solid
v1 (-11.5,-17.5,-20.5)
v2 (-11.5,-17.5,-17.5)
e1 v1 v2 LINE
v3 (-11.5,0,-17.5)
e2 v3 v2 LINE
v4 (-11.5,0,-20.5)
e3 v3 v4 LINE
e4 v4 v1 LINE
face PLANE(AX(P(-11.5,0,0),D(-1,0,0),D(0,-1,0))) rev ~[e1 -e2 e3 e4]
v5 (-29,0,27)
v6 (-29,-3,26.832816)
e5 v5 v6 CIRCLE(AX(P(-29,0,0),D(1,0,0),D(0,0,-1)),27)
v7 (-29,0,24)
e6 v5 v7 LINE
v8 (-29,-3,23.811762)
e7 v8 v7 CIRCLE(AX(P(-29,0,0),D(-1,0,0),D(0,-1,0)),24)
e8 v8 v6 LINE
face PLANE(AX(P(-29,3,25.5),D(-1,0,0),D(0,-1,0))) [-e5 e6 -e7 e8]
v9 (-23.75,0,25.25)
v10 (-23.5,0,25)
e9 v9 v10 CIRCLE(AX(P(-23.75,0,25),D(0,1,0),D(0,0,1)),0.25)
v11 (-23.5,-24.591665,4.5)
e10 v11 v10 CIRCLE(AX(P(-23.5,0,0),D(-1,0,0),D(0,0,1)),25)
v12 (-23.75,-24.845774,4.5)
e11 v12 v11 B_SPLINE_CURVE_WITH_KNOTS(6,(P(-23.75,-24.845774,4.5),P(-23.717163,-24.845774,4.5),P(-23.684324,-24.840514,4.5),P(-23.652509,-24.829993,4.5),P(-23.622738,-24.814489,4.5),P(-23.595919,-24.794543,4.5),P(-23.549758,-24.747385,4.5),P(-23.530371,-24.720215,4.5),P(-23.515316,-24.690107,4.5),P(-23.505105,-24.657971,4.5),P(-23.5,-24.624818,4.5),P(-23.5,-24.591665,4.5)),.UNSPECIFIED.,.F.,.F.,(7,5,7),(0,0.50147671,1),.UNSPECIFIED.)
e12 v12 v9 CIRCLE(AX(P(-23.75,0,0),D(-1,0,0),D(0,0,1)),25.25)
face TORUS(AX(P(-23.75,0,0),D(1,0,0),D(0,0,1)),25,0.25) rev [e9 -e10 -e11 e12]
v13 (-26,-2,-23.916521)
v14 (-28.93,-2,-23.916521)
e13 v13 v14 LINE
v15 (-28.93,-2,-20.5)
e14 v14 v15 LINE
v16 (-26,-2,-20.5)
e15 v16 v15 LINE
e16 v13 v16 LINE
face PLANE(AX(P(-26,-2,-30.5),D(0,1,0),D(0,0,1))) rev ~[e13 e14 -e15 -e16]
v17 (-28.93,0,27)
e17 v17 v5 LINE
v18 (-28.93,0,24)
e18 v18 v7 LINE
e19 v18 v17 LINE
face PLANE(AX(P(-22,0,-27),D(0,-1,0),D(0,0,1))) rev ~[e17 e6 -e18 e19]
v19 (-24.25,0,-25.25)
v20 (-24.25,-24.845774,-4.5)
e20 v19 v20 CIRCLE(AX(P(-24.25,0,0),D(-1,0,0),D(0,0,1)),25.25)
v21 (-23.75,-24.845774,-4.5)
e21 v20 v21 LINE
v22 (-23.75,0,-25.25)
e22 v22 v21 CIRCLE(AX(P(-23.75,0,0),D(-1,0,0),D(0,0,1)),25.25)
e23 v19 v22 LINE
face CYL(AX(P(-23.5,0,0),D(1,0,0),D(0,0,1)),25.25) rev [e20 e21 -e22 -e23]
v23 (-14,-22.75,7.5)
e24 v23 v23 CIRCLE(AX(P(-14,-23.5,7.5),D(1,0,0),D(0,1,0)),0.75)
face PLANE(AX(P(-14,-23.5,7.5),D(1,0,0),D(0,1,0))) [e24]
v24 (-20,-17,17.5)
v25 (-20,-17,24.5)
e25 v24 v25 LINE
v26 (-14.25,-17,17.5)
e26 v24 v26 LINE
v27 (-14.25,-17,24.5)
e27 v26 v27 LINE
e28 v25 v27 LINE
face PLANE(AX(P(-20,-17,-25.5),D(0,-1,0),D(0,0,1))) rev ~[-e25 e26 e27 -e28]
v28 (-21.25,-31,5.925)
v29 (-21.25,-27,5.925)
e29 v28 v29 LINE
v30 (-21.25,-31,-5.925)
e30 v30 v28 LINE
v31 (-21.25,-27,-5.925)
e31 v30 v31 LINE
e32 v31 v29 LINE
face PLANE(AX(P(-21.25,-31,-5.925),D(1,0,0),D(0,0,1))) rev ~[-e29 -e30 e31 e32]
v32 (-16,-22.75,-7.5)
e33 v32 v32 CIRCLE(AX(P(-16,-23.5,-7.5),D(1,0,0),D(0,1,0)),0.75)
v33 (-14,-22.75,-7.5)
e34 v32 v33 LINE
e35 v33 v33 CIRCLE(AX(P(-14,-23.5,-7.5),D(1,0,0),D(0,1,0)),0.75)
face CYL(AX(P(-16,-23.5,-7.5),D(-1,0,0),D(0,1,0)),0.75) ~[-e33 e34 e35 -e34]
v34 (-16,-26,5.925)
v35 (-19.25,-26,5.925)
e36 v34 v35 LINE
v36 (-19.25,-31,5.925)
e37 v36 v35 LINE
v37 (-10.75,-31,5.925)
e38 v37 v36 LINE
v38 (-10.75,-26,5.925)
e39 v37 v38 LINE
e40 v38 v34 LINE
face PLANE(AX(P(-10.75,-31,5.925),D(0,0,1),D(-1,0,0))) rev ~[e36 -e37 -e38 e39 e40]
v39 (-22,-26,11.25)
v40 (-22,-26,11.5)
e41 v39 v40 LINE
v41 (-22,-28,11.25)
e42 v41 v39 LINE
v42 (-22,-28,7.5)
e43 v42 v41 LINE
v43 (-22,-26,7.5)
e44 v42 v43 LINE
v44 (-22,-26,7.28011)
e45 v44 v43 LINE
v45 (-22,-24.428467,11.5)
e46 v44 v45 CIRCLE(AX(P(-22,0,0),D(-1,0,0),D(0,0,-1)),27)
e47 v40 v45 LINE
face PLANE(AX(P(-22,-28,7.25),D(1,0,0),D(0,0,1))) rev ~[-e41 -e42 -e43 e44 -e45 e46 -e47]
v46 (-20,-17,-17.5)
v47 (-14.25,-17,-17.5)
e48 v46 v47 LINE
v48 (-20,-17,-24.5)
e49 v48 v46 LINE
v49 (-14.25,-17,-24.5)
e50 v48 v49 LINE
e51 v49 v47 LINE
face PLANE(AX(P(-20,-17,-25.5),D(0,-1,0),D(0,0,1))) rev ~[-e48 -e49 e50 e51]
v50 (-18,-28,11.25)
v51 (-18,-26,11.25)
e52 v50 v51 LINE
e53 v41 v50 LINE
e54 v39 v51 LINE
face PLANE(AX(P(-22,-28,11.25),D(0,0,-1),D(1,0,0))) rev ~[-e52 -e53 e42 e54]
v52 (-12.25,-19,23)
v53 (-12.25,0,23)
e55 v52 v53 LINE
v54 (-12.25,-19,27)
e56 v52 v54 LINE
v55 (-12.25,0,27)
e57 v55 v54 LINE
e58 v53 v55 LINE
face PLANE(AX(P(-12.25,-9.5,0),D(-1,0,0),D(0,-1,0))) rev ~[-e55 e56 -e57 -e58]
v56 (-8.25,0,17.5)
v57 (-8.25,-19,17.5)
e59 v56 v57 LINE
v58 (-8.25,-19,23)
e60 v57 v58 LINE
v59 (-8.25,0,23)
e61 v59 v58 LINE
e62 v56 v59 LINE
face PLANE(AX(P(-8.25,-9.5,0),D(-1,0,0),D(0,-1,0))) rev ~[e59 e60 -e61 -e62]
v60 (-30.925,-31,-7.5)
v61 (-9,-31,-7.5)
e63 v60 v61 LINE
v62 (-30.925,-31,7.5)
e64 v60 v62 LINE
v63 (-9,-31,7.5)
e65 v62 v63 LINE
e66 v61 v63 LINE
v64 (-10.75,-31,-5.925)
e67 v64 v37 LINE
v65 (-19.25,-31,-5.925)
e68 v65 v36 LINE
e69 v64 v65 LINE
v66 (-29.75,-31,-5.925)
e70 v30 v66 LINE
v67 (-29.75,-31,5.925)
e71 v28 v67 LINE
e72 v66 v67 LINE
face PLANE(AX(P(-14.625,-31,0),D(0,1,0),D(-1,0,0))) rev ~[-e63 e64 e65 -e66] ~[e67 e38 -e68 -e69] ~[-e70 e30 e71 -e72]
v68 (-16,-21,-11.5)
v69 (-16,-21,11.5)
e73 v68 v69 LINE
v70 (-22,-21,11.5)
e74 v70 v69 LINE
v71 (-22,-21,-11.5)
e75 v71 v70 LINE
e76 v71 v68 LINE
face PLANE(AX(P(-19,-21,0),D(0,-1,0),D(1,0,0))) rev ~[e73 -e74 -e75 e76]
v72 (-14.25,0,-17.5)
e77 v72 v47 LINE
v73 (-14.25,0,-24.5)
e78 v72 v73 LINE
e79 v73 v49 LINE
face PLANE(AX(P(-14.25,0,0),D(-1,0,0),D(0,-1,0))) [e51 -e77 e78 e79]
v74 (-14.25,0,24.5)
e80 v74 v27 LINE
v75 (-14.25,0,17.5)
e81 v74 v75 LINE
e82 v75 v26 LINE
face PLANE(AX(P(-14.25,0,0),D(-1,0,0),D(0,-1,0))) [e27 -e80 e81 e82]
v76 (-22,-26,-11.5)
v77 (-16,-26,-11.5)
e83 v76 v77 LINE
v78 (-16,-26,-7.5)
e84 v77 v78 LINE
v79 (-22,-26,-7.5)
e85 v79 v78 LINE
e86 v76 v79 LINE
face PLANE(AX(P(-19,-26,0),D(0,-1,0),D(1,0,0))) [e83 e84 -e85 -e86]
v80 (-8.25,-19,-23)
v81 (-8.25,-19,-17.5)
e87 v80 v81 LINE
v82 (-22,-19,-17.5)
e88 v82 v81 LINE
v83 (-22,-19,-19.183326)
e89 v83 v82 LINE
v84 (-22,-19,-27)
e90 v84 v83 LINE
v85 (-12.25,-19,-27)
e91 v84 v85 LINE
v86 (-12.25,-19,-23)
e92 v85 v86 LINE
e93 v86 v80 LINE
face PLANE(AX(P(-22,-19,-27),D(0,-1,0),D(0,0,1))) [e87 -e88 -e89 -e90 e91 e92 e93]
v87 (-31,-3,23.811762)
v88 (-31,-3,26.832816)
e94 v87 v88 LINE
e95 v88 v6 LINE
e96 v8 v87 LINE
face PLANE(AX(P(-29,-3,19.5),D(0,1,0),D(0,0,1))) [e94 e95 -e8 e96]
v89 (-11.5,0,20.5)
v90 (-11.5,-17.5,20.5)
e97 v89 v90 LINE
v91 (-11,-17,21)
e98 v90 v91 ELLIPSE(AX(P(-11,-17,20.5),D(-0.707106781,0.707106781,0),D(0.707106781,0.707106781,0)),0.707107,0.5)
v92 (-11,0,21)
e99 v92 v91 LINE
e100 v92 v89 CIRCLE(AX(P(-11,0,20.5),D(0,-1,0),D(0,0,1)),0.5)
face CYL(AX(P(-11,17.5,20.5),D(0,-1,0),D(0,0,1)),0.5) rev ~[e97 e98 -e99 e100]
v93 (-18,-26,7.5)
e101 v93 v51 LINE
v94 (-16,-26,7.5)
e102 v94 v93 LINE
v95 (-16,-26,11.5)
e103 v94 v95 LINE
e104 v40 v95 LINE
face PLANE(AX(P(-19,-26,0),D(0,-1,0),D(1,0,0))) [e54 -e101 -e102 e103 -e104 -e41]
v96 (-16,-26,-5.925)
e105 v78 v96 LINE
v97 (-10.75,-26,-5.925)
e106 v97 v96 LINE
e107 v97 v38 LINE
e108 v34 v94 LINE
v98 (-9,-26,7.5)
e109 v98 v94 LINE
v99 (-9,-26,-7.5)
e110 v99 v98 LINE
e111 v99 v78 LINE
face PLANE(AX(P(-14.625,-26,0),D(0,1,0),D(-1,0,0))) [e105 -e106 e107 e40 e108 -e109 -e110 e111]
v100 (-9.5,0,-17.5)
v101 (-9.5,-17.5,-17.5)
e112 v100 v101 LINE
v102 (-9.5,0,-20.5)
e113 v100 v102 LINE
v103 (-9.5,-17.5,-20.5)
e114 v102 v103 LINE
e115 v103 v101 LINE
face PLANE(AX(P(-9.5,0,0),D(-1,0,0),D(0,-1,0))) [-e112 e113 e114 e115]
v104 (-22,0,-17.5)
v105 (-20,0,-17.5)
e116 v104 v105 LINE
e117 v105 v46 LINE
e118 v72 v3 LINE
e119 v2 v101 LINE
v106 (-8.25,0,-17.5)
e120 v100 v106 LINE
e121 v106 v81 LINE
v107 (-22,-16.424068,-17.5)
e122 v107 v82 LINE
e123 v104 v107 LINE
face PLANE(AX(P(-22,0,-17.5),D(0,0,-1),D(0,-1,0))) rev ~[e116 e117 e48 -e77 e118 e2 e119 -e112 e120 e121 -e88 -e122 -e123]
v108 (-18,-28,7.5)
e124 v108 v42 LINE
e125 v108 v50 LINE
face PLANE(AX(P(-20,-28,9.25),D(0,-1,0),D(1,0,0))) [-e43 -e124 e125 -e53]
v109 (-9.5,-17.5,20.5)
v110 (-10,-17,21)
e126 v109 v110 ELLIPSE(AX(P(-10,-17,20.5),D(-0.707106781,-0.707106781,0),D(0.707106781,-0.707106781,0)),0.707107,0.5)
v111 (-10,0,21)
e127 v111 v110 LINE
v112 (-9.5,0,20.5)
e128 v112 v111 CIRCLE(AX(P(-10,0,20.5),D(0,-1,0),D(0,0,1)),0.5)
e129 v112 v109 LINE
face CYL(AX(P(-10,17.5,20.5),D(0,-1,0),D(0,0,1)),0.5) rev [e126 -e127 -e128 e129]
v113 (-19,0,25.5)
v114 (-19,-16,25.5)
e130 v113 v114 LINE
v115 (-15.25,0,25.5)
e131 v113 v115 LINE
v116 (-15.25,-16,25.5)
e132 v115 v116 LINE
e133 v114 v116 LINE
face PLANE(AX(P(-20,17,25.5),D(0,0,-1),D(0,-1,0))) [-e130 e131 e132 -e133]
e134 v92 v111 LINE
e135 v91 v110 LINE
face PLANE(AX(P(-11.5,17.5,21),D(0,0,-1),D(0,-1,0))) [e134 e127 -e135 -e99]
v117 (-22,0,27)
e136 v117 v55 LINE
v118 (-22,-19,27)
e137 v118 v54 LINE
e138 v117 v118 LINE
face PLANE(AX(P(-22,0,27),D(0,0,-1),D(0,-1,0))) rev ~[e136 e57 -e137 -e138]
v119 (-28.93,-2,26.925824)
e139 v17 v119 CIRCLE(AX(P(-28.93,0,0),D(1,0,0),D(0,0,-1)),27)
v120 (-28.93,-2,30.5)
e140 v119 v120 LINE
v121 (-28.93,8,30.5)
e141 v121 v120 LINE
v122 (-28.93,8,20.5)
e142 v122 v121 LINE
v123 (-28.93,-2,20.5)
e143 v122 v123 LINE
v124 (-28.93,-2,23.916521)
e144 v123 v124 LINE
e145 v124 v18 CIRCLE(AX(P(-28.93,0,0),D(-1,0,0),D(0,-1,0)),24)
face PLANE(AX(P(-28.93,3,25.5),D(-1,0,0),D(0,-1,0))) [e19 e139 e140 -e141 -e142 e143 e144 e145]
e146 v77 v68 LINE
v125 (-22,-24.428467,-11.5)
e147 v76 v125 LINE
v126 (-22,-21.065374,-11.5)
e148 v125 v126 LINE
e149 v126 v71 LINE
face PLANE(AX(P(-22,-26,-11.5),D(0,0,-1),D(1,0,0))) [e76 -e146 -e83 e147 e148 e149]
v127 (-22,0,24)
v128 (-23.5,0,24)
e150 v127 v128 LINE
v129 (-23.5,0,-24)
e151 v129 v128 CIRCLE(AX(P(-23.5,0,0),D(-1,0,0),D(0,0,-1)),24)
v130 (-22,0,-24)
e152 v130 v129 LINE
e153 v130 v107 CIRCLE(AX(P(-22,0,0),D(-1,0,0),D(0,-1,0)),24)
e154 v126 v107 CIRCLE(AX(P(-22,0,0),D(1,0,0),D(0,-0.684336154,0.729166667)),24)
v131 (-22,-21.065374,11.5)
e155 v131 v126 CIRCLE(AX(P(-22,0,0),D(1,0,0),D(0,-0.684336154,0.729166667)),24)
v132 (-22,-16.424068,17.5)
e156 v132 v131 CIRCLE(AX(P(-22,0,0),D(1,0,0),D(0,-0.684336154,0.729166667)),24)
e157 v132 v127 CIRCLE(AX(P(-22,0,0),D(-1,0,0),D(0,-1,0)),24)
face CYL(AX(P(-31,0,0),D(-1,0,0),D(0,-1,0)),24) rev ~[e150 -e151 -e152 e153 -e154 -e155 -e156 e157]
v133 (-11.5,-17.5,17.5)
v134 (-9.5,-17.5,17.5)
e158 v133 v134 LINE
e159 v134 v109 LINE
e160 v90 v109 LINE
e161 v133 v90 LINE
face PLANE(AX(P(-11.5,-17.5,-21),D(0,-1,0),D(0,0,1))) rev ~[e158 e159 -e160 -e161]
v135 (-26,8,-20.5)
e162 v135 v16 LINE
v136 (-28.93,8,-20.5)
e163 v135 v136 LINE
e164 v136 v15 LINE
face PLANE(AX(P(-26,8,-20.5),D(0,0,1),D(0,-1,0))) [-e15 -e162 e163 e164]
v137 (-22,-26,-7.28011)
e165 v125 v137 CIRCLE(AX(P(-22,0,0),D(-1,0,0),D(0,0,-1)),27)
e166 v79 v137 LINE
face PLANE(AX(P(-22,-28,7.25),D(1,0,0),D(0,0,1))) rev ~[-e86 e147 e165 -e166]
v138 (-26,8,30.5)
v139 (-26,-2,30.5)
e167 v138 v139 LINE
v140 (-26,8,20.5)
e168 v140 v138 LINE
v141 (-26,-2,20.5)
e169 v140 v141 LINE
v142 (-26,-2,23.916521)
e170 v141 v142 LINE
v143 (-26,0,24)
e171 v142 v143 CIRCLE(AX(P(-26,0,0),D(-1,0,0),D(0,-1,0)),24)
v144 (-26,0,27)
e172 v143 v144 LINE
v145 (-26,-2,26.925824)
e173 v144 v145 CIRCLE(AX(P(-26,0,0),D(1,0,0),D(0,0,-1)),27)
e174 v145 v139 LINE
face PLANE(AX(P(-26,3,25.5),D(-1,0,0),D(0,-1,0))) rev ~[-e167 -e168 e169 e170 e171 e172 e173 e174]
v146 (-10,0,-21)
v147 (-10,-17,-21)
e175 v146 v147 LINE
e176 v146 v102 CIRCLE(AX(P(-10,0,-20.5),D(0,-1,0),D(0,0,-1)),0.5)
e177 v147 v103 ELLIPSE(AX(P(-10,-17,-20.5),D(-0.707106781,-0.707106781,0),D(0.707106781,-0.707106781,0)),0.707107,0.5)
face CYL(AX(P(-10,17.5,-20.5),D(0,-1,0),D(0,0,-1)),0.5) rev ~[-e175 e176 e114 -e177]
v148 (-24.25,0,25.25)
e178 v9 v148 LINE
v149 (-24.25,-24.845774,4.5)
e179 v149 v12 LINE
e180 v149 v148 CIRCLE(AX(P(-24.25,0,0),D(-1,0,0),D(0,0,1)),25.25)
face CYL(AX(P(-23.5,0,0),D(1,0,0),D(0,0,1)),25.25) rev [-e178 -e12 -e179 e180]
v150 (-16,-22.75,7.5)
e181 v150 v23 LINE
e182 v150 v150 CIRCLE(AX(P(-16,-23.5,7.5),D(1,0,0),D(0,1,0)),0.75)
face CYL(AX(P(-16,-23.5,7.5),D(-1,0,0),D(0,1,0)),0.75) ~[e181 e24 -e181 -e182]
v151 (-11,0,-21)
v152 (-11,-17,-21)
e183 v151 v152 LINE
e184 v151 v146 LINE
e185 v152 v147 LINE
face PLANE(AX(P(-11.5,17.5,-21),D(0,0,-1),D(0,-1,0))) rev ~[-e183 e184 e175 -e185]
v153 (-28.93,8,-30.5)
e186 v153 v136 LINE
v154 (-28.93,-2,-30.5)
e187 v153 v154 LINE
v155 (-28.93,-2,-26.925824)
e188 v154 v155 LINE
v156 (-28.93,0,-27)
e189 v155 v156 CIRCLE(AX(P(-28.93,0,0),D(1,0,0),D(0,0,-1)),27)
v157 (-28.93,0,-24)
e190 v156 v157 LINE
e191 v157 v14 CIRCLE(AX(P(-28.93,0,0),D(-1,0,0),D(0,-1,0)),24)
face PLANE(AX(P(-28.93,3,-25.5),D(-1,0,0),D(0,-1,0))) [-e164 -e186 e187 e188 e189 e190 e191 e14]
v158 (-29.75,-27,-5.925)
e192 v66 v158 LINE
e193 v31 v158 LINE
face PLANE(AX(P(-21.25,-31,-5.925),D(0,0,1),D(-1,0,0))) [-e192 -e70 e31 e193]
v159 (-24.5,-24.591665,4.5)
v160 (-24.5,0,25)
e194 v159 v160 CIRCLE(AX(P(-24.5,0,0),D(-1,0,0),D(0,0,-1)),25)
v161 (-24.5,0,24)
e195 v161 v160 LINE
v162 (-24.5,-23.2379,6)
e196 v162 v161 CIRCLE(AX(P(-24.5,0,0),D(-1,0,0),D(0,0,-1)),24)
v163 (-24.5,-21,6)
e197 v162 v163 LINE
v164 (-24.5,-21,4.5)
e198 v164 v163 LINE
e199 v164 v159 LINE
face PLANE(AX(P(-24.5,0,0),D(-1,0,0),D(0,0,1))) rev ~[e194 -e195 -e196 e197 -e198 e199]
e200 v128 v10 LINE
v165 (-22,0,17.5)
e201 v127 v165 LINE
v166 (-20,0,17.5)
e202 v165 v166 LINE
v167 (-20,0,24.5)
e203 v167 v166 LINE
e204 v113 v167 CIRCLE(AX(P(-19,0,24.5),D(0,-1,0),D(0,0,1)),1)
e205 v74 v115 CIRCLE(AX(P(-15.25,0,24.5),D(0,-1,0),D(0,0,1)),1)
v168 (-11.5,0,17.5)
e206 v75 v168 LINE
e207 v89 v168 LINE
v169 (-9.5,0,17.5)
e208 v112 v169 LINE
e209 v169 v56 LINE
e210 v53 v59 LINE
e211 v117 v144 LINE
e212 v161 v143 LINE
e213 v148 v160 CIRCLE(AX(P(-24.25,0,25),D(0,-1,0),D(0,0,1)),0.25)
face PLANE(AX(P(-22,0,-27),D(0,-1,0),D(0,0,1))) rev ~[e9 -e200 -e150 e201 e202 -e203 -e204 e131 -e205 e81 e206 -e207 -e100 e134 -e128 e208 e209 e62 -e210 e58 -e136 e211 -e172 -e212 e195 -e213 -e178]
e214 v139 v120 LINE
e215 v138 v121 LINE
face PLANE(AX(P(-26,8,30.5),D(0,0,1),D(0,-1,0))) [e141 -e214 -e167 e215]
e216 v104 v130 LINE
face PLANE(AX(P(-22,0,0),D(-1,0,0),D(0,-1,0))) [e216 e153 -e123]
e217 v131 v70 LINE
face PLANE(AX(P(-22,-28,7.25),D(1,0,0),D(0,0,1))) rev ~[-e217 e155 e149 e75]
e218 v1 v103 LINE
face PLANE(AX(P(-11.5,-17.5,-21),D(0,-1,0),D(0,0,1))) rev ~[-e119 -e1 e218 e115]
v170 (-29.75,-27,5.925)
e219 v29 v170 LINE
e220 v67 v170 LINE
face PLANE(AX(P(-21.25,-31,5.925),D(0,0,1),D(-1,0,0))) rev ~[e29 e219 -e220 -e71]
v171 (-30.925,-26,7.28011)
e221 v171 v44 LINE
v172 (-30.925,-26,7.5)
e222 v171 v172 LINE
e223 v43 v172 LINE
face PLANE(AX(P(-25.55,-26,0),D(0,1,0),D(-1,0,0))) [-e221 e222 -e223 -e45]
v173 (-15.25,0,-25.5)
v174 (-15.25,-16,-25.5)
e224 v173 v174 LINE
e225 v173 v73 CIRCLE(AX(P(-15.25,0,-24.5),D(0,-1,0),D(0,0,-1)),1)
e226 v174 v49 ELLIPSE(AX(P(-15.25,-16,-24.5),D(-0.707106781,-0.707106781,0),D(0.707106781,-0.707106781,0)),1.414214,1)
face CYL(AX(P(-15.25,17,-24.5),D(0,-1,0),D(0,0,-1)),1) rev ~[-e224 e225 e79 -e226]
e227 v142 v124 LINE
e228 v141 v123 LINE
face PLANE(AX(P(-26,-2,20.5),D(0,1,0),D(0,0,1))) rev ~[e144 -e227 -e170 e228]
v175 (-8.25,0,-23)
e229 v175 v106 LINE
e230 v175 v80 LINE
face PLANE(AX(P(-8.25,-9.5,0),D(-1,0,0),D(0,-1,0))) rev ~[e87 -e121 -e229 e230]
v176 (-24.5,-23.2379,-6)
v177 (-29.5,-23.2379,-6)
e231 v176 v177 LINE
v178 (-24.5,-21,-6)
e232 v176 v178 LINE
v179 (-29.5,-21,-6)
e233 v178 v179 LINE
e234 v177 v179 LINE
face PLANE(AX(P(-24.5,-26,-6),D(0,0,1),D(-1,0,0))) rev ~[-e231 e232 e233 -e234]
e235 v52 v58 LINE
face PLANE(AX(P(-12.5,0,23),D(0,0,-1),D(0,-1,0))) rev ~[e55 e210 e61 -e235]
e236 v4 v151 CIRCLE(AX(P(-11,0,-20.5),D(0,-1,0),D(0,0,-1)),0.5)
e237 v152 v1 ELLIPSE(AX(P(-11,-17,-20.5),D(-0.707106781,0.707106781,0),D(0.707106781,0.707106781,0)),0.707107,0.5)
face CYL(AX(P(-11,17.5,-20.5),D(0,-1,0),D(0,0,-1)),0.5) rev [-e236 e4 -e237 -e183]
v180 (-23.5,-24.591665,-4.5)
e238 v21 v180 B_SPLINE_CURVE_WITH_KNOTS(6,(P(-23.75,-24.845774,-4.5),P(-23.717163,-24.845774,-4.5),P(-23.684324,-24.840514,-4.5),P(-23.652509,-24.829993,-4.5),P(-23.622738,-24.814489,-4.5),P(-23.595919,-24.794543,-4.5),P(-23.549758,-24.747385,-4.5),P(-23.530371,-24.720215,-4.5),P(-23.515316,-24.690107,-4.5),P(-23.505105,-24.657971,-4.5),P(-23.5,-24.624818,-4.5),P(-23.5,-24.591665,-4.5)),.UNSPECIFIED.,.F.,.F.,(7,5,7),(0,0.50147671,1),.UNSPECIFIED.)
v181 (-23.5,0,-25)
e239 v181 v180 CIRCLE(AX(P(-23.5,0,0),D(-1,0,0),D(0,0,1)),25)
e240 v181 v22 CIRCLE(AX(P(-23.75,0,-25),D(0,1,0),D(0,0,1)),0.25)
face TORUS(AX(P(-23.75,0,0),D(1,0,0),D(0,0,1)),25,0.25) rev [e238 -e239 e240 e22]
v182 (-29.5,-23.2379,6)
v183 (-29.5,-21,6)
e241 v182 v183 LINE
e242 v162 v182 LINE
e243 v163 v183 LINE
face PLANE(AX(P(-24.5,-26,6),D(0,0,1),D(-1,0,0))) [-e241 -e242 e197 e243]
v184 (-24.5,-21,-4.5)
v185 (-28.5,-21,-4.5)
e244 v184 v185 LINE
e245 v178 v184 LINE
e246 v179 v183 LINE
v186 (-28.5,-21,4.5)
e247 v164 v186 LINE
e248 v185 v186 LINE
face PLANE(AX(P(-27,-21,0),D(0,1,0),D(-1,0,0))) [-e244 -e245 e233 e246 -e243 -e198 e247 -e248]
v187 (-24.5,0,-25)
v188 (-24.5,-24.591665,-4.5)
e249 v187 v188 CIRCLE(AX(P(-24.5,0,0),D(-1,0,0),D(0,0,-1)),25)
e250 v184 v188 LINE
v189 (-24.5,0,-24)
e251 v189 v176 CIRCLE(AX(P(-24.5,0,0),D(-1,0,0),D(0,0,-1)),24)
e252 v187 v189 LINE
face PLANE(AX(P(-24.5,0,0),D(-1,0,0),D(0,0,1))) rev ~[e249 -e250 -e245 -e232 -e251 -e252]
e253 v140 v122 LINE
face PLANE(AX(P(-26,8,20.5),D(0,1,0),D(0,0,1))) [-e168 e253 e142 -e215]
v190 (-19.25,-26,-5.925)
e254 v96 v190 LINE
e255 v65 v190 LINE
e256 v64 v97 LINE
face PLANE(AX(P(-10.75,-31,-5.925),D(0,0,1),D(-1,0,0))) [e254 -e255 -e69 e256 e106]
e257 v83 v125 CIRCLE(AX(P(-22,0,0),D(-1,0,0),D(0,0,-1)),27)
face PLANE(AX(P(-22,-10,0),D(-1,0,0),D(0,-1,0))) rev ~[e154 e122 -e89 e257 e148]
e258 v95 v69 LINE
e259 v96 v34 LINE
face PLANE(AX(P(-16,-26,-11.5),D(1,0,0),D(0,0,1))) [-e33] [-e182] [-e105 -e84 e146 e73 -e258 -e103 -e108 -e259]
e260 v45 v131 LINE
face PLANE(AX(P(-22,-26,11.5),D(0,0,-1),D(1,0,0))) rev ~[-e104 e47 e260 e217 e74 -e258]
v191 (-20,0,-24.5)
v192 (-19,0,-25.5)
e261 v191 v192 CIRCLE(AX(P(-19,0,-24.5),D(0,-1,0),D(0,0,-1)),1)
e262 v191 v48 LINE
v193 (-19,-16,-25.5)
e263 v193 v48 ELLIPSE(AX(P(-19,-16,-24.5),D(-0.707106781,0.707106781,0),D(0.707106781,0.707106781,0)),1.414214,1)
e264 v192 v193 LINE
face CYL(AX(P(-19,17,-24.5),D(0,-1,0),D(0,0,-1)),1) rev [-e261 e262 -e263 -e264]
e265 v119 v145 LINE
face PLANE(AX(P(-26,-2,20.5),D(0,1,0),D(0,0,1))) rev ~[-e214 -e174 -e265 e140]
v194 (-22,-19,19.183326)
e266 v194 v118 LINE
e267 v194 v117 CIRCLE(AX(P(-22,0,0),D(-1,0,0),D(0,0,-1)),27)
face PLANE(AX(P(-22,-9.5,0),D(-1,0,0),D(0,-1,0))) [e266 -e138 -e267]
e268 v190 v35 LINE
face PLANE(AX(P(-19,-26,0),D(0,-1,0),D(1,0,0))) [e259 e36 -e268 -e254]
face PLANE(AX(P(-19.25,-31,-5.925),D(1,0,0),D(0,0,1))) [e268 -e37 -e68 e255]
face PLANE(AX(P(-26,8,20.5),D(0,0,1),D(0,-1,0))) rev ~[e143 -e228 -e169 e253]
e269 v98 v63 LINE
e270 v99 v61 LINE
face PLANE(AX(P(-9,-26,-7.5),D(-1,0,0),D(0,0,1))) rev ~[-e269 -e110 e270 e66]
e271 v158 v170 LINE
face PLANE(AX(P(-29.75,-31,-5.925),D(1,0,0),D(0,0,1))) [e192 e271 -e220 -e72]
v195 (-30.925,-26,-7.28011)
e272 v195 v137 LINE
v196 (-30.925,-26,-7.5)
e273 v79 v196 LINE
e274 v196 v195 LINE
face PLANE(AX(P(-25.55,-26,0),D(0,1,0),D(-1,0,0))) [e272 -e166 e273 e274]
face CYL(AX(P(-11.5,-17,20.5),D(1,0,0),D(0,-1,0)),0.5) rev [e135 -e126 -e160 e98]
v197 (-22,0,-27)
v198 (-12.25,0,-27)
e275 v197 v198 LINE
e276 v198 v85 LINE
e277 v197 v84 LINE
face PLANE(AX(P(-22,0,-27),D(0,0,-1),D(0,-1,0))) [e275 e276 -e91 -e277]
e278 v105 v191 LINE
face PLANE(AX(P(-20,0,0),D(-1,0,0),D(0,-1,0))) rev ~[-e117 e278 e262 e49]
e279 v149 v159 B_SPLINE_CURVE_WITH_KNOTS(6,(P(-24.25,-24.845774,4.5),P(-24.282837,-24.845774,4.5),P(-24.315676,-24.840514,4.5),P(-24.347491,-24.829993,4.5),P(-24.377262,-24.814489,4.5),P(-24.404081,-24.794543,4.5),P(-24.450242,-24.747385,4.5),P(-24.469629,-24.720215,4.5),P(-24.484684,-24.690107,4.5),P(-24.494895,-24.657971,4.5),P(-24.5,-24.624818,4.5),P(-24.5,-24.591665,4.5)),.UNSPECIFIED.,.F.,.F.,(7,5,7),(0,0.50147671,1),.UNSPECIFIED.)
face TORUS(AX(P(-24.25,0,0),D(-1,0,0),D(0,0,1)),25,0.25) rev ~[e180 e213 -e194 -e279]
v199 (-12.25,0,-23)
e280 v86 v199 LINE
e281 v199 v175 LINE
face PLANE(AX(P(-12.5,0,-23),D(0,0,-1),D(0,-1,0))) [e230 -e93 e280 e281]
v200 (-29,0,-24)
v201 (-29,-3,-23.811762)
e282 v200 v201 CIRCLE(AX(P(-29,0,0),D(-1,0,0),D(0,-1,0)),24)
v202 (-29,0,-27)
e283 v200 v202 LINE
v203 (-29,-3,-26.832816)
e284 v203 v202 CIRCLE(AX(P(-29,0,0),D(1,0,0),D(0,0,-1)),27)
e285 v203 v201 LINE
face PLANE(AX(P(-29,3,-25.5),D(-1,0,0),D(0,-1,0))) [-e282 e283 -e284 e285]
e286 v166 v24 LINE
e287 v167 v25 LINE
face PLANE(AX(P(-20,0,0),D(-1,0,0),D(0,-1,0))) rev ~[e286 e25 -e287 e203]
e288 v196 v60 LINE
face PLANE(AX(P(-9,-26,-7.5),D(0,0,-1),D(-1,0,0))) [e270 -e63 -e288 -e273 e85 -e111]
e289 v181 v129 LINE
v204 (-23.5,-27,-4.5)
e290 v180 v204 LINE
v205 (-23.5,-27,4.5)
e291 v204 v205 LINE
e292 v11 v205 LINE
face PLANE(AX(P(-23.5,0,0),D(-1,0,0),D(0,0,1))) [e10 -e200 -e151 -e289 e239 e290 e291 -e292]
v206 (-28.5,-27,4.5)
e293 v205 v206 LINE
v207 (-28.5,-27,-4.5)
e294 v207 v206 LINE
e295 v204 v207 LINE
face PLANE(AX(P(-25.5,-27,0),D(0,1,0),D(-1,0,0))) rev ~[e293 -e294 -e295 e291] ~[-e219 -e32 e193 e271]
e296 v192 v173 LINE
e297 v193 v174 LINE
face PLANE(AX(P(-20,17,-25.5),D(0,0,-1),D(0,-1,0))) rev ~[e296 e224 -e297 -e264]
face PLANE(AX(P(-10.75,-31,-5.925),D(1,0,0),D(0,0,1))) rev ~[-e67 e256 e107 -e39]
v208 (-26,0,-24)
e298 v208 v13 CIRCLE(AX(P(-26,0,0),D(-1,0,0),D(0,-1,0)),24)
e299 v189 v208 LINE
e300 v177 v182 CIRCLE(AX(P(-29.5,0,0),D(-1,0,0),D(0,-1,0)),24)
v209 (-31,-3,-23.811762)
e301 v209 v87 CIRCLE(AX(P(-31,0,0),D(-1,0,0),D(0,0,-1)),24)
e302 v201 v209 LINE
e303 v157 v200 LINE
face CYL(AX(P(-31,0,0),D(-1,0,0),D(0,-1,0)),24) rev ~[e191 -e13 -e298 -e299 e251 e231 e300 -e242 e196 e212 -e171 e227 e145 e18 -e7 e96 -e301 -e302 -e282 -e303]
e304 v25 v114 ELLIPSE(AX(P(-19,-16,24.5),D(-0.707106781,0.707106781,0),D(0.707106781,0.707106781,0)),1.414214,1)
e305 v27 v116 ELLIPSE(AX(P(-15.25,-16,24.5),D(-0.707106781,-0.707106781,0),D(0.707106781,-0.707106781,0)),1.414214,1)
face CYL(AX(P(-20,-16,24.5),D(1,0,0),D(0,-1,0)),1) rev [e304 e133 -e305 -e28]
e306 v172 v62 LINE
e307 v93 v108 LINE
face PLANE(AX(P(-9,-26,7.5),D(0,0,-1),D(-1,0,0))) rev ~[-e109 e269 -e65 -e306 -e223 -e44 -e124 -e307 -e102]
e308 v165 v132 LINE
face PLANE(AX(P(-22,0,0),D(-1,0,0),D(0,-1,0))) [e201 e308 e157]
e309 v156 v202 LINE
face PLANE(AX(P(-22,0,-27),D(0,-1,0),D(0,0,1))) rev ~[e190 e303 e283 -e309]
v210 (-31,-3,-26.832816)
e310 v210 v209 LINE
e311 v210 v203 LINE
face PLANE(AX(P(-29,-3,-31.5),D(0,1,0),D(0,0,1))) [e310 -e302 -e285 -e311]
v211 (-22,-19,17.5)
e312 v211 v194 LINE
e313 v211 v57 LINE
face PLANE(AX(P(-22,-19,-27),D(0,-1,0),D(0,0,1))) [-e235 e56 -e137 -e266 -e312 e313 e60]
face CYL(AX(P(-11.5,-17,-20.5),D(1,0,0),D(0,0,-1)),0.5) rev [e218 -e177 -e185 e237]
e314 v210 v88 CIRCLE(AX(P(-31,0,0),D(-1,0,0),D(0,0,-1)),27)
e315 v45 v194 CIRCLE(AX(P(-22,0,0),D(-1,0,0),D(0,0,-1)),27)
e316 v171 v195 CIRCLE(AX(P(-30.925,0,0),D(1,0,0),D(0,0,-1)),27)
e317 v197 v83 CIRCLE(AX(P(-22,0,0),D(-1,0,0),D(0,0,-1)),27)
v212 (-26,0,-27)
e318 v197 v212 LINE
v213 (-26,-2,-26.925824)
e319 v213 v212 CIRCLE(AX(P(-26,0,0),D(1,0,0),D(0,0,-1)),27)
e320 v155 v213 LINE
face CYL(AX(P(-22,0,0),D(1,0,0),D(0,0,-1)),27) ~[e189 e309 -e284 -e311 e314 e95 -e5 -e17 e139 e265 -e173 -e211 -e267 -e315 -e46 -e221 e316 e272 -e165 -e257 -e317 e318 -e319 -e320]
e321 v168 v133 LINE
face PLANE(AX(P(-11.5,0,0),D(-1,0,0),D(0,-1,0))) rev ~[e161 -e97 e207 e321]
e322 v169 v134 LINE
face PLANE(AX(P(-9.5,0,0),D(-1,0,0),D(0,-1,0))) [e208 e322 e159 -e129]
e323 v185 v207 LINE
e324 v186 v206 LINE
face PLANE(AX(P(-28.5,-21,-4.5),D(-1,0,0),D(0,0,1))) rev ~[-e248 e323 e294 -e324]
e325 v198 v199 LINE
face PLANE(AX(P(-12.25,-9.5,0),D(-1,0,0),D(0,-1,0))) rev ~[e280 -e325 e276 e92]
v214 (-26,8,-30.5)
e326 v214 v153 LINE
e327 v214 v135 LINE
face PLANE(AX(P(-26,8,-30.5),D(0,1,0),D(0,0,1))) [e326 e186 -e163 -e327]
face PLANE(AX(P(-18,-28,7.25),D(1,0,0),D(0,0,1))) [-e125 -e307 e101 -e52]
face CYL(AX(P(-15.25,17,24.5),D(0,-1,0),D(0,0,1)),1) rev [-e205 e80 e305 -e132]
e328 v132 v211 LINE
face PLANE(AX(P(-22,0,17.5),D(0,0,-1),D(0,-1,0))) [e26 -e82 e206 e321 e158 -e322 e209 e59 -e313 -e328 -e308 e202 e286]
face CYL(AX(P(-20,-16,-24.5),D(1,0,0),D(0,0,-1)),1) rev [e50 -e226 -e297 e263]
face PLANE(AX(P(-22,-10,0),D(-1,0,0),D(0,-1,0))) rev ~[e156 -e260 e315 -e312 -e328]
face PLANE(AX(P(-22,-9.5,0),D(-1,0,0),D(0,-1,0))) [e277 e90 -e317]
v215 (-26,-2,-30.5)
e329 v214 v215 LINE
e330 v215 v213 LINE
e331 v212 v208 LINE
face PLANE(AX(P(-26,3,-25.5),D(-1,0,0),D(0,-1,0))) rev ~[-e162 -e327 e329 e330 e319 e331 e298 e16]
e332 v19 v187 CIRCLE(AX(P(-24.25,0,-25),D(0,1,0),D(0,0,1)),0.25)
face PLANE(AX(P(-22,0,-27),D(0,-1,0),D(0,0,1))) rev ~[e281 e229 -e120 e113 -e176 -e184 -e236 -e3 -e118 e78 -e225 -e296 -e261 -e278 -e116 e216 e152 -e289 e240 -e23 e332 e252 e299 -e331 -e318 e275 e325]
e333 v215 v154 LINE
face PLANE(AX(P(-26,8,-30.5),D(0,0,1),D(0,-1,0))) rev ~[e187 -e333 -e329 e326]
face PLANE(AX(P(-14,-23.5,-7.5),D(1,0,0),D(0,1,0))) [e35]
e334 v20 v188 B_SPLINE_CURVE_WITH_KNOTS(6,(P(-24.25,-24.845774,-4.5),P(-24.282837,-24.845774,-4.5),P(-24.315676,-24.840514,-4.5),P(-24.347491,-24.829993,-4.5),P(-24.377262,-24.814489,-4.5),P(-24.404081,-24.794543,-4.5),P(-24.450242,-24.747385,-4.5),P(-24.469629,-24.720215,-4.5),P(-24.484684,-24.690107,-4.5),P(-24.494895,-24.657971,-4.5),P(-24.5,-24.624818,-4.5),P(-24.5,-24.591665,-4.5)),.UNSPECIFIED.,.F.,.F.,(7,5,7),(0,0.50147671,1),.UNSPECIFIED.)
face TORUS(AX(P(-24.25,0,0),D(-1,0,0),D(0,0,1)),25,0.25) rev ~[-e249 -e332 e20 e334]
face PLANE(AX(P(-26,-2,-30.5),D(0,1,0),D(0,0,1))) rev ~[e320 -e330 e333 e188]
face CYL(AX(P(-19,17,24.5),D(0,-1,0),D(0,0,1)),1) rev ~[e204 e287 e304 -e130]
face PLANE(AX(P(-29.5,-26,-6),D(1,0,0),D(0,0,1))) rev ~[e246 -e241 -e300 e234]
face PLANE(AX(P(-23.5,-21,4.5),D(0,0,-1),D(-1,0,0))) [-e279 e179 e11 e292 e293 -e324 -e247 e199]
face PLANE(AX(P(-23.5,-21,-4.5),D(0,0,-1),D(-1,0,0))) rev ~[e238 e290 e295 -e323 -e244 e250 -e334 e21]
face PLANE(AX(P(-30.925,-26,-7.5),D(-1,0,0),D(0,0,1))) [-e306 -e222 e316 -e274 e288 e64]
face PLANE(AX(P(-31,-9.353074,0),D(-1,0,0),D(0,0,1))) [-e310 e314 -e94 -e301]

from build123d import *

# Parameters (mm, degrees)
SKETCH062_W                               = 12
SKETCH062_H                               = 12
EXTRUDE035_DEPTH                          = 2
SKETCH061_W                               = 12
SKETCH061_H                               = 12
EXTRUDE034_DEPTH                          = 2
SKETCH029_AS_DRAWN_W                      = 4
SKETCH029_AS_DRAWN_H                      = 4
EXTRUDE021_DEPTH                          = 2
EXTRUDE021_ONTO_SKETCH029_ROLL_ANGLE      = 90
SKETCH020_W                               = 10
SKETCH020_H                               = 10
EXTRUDE014_DEPTH                          = 2.93
SKETCH018_W                               = 10
SKETCH018_H                               = 10
EXTRUDE013_DEPTH                          = 2.93
SKETCH016_AS_DRAWN_W                      = 5
SKETCH016_AS_DRAWN_H                      = 9
EXTRUDE009_DEPTH                          = 7
EXTRUDE009_ONTO_SKETCH016_ROLL_ANGLE      = 90
EXTRUDE009_ONTO_SKETCH016_PLACEMENT_ANGLE = 180
SKETCH013_AS_DRAWN_W                      = 8.5
SKETCH013_AS_DRAWN_H                      = 11.85
EXTRUDE011_DEPTH                          = 4
EXTRUDE011_ONTO_SKETCH013_ROLL_ANGLE      = 90
EXTRUDE011_ONTO_SKETCH013_PLACEMENT_ANGLE = 180
SKETCH015_AS_DRAWN_W                      = 10.75
SKETCH015_AS_DRAWN_H                      = 15
EXTRUDE010_DEPTH                          = 5
EXTRUDE010_ONTO_SKETCH015_ROLL_ANGLE      = 90
EXTRUDE010_ONTO_SKETCH015_PLACEMENT_ANGLE = 180
SKETCH017_AS_DRAWN_W                      = 5
SKETCH017_AS_DRAWN_H                      = 12
EXTRUDE008_DEPTH                          = 5
EXTRUDE008_ONTO_SKETCH017_ROLL_ANGLE      = 90
EXTRUDE008_ONTO_SKETCH017_PLACEMENT_ANGLE = 180
SKETCH012_W                               = 20
SKETCH012_H                               = 35
EXTRUDE007_DEPTH                          = 14
SKETCH007_R                               = 24
EXTRUDE006_DEPTH                          = 9
SKETCH011_W                               = 35
SKETCH011_H                               = 42
EXTRUDE005_DEPTH                          = 2
FILLET002_R                               = 0.5
SKETCH010_W                               = 19
SKETCH010_H                               = 46
EXTRUDE004_DEPTH                          = 4.25
SKETCH009_W                               = 34
SKETCH009_H                               = 51
EXTRUDE003_DEPTH                          = 5.75
FILLET001_R                               = 1
SKETCH008_W                               = 19
SKETCH008_H                               = 54
EXTRUDE002_DEPTH                          = 9.75
SKETCH006_R                               = 25.25
EXTRUDE001_DEPTH                          = 1
FILLET_R                                  = 0.25
EXTRUDE_DEPTH                             = 9
CUT_ROLL_ANGLE                            = -90
SKETCH025_R                               = 0.75
EXTRUDE017_DEPTH                          = 2
SKETCH028_AS_DRAWN_W                      = 8.5
SKETCH028_AS_DRAWN_H                      = 11.85
EXTRUDE020_DEPTH                          = 5
EXTRUDE020_ONTO_SKETCH028_ROLL_ANGLE      = 90
EXTRUDE020_ONTO_SKETCH028_PLACEMENT_ANGLE = 180
SKETCH027_AS_DRAWN_W                      = 11.25
SKETCH027_AS_DRAWN_H                      = 15
EXTRUDE019_DEPTH                          = 5
EXTRUDE019_ONTO_SKETCH027_ROLL_ANGLE      = 90
EXTRUDE019_ONTO_SKETCH027_PLACEMENT_ANGLE = 180
SKETCH019_AS_DRAWN_W                      = 6
SKETCH019_AS_DRAWN_H                      = 23
EXTRUDE012_DEPTH                          = 5
EXTRUDE012_ONTO_SKETCH019_ROLL_ANGLE      = 90


with BuildPart() as extrude035:
    # Sketch062 → Extrude035 (new body)
    with BuildSketch(Plane(origin=(-21, 0, 0), x_dir=(0, -1, 0), z_dir=(-1, 0, 0))):
        with Locations((-3, 25.5)):
            Rectangle(SKETCH062_W, SKETCH062_H)
    extrude(amount=EXTRUDE035_DEPTH)


with BuildPart() as extrude034:
    # Sketch061 → Extrude034 (new body)
    with BuildSketch(Plane(origin=(-21, 0, 0), x_dir=(0, -1, 0), z_dir=(-1, 0, 0))):
        with Locations((-3, -25.5)):
            Rectangle(SKETCH061_W, SKETCH061_H)
    extrude(amount=EXTRUDE034_DEPTH)


with BuildPart() as reset_standoff:
    # Sketch029 as drawn → Extrude021 (new)
    with BuildSketch(Plane.XY):
        with Locations((-12, 9.25)):
            Rectangle(SKETCH029_AS_DRAWN_W, SKETCH029_AS_DRAWN_H)
    extrude(amount=-EXTRUDE021_DEPTH)


with BuildPart() as reset_standoff_1:
    # Extrude021 onto Sketch029 roll: moved
    add(reset_standoff.part.rotate(Axis((0, 0, 0), (1, 0, 0)), EXTRUDE021_ONTO_SKETCH029_ROLL_ANGLE))


with BuildPart() as reset_standoff_2:
    # Extrude021 onto Sketch029 placement: moved
    add(reset_standoff_1.part.moved(Location((0, -28, 0))))


with BuildPart() as momentary_mount:
    # Sketch020 → Extrude014 (new body)
    with BuildSketch(Plane(origin=(-18, 0, 0), x_dir=(0, -1, 0), z_dir=(-1, 0, 0))):
        with Locations((-3, -25.5)):
            Rectangle(SKETCH020_W, SKETCH020_H)
    extrude(amount=EXTRUDE014_DEPTH)


with BuildPart() as pwr_button_mount:
    # Sketch018 → Extrude013 (new body)
    with BuildSketch(Plane(origin=(-18, 0, 0), x_dir=(0, -1, 0), z_dir=(-1, 0, 0))):
        with Locations((-3, 25.5)):
            Rectangle(SKETCH018_W, SKETCH018_H)
    extrude(amount=EXTRUDE013_DEPTH)


with BuildPart() as extrude009:
    # Sketch016 as drawn → Extrude009 (new)
    with BuildSketch(Plane.XY):
        with Locations((18, 0)):
            Rectangle(SKETCH016_AS_DRAWN_W, SKETCH016_AS_DRAWN_H)
    extrude(amount=-EXTRUDE009_DEPTH)


with BuildPart() as extrude009_1:
    # Extrude009 onto Sketch016 roll: moved
    add(extrude009.part.rotate(Axis((0, 0, 0), (1, 0, 0)), EXTRUDE009_ONTO_SKETCH016_ROLL_ANGLE))


with BuildPart() as extrude009_2:
    # Extrude009 onto Sketch016 placement: moved
    add(extrude009_1.part.moved(Location((0, -21, 0))).rotate(Axis((0, -21, 0), (0, 0, 1)), EXTRUDE009_ONTO_SKETCH016_PLACEMENT_ANGLE))


with BuildPart() as charge_port_cuts:
    # Sketch013 as drawn → Extrude011 (new)
    with BuildSketch(Plane.XY):
        with Locations((17.5, 0)):
            Rectangle(SKETCH013_AS_DRAWN_W, SKETCH013_AS_DRAWN_H)
    extrude(amount=EXTRUDE011_DEPTH)


with BuildPart() as charge_port_cuts_1:
    # Extrude011 onto Sketch013 roll: moved
    add(charge_port_cuts.part.rotate(Axis((0, 0, 0), (1, 0, 0)), EXTRUDE011_ONTO_SKETCH013_ROLL_ANGLE))


with BuildPart() as charge_port_cuts_2:
    # Extrude011 onto Sketch013 placement: moved
    add(charge_port_cuts_1.part.moved(Location((0, -31, 0))).rotate(Axis((0, -31, 0), (0, 0, 1)), EXTRUDE011_ONTO_SKETCH013_PLACEMENT_ANGLE))

    # Fusion004: union Extrude009
    add(extrude009_2.part)


with BuildPart() as extrude010:
    # Sketch015 as drawn → Extrude010 (new)
    with BuildSketch(Plane.XY):
        with Locations((17.55, 0)):
            Rectangle(SKETCH015_AS_DRAWN_W, SKETCH015_AS_DRAWN_H)
    extrude(amount=-EXTRUDE010_DEPTH)


with BuildPart() as extrude010_1:
    # Extrude010 onto Sketch015 roll: moved
    add(extrude010.part.rotate(Axis((0, 0, 0), (1, 0, 0)), EXTRUDE010_ONTO_SKETCH015_ROLL_ANGLE))


with BuildPart() as extrude010_2:
    # Extrude010 onto Sketch015 placement: moved
    add(extrude010_1.part.moved(Location((0, -26, 0))).rotate(Axis((0, -26, 0), (0, 0, 1)), EXTRUDE010_ONTO_SKETCH015_PLACEMENT_ANGLE))


with BuildPart() as charge_port_walls:
    # Sketch017 as drawn → Extrude008 (new)
    with BuildSketch(Plane.XY):
        with Locations((19, 0)):
            Rectangle(SKETCH017_AS_DRAWN_W, SKETCH017_AS_DRAWN_H)
    extrude(amount=EXTRUDE008_DEPTH)


with BuildPart() as charge_port_walls_1:
    # Extrude008 onto Sketch017 roll: moved
    add(charge_port_walls.part.rotate(Axis((0, 0, 0), (1, 0, 0)), EXTRUDE008_ONTO_SKETCH017_ROLL_ANGLE))


with BuildPart() as charge_port_walls_2:
    # Extrude008 onto Sketch017 placement: moved
    add(charge_port_walls_1.part.moved(Location((0, -26, 0))).rotate(Axis((0, -26, 0), (0, 0, 1)), EXTRUDE008_ONTO_SKETCH017_PLACEMENT_ANGLE))

    # Fusion002: union Extrude010
    add(extrude010_2.part)


with BuildPart() as extrude007:
    # Sketch012 → Extrude007 (new body)
    with BuildSketch(Plane(origin=(0, 0, 0), x_dir=(0, -1, 0), z_dir=(-1, 0, 0))):
        with Locations((10, 0)):
            Rectangle(SKETCH012_W, SKETCH012_H)
    extrude(amount=-EXTRUDE007_DEPTH)


with BuildPart() as fusion001:
    # Sketch007 → Extrude006 (new body)
    with BuildSketch(Plane(origin=(-9, 0, 0), x_dir=(0, -1, 0), z_dir=(-1, 0, 0))):
        Circle(SKETCH007_R)
    extrude(amount=-EXTRUDE006_DEPTH)

    # Fusion001: union Extrude007
    add(extrude007.part)


with BuildPart() as fillet002:
    # Sketch011 → Extrude005 (new body)
    with BuildSketch(Plane(origin=(10.5, 0, 0), x_dir=(0, -1, 0), z_dir=(-1, 0, 0))):
        Rectangle(SKETCH011_W, SKETCH011_H)
    extrude(amount=-EXTRUDE005_DEPTH)

    # Fillet002
    fillet002_edges = [fillet002.edges().sort_by_distance(p)[0] for p in [
        (11.5, 17.5, 21),
        (11.5, -17.5, 21),
        (10.5, 0, 21),
        (12.5, 0, 21),
        (11.5, -17.5, -21),
        (11.5, 17.5, -21),
        (10.5, 0, -21),
        (12.5, 0, -21),
    ]]
    fillet(fillet002_edges, radius=FILLET002_R)


with BuildPart() as motorboard:
    # Sketch010 → Extrude004 (new body)
    with BuildSketch(Plane(origin=(9.5, 0, 0), x_dir=(0, -1, 0), z_dir=(-1, 0, 0))):
        with Locations((9.5, 0)):
            Rectangle(SKETCH010_W, SKETCH010_H)
    extrude(amount=-EXTRUDE004_DEPTH)

    # Cut002: cut Fillet002
    add(fillet002.part, mode=Mode.SUBTRACT)


with BuildPart() as fillet001:
    # Sketch009 → Extrude003 (new body)
    with BuildSketch(Plane(origin=(2, 0, 0), x_dir=(0, -1, 0), z_dir=(-1, 0, 0))):
        Rectangle(SKETCH009_W, SKETCH009_H)
    extrude(amount=-EXTRUDE003_DEPTH)

    # Fillet001
    fillet001_edges = [fillet001.edges().sort_by_distance(p)[0] for p in [
        (4.875, 17, 25.5),
        (4.875, -17, 25.5),
        (2, 0, 25.5),
        (7.75, 0, 25.5),
        (4.875, -17, -25.5),
        (4.875, 17, -25.5),
        (2, 0, -25.5),
        (7.75, 0, -25.5),
    ]]
    fillet(fillet001_edges, radius=FILLET001_R)


with BuildPart() as battery:
    # Sketch008 → Extrude002 (new body)
    with BuildSketch(Plane(origin=(0, 0, 0), x_dir=(0, -1, 0), z_dir=(-1, 0, 0))):
        with Locations((9.5, 0)):
            Rectangle(SKETCH008_W, SKETCH008_H)
    extrude(amount=-EXTRUDE002_DEPTH)

    # Cut001: cut Fillet001
    add(fillet001.part, mode=Mode.SUBTRACT)


with BuildPart() as fillet_body:
    # Sketch006 → Extrude001 (new body)
    with BuildSketch(Plane(origin=(-1.5, 0, 0), x_dir=(0, -1, 0), z_dir=(-1, 0, 0))):
        Circle(SKETCH006_R)
    extrude(amount=EXTRUDE001_DEPTH)

    # Fillet
    fillet_edges = [fillet_body.edges().sort_by_distance(p)[0] for p in [
        (-1.5, 25.25, 0),
        (-2.5, 25.25, 0),
    ]]
    fillet(fillet_edges, radius=FILLET_R)


with BuildPart() as body_and_charge_port:
    # Sketch005 → Extrude (new body)
    with BuildSketch(Plane(origin=(0, 0, 0), x_dir=(0, -1, 0), z_dir=(-1, 0, 0))):
        with BuildLine():
            ThreePointArc((-27, 0), (0, -27), (27, 0))
            Line((-27, 0), (27, 0))
        make_face()
    extrude(amount=EXTRUDE_DEPTH)

    # Cut: cut Fillet body
    add(fillet_body.part, mode=Mode.SUBTRACT)


with BuildPart() as body_and_charge_port_1:
    # Cut roll: moved
    add(body_and_charge_port.part.rotate(Axis((0, 0, 0), (1, 0, 0)), CUT_ROLL_ANGLE))


with BuildPart() as body_and_charge_port_2:
    # Cut placement: moved
    add(body_and_charge_port_1.part)

    # Fusion: union MotorBoard, Battery
    add(motorboard.part)
    add(battery.part)

    # Cut003: cut Fusion001
    add(fusion001.part, mode=Mode.SUBTRACT)


with BuildPart() as body_and_charge_port_3:
    # Cut003 placement: moved
    add(body_and_charge_port_2.part.moved(Location((-14, 0, 0))))

    # Fusion003: union Charge Port Walls
    add(charge_port_walls_2.part)

    # Cut004: cut Charge Port Cuts
    add(charge_port_cuts_2.part, mode=Mode.SUBTRACT)


with BuildPart() as hacker_port_pegs:
    # Sketch025 → Extrude017 (new body)
    with BuildSketch(Plane.YZ.offset(-8)):
        with Locations((-23.5, 7.5)):
            Circle(SKETCH025_R)
        with Locations((-23.5, -7.5)):
            Circle(SKETCH025_R)
    extrude(amount=EXTRUDE017_DEPTH)


with BuildPart() as hacker_hole_cut001:
    # Sketch028 as drawn → Extrude020 (new)
    with BuildSketch(Plane.XY):
        with Locations((7, 0)):
            Rectangle(SKETCH028_AS_DRAWN_W, SKETCH028_AS_DRAWN_H)
    extrude(amount=EXTRUDE020_DEPTH)


with BuildPart() as hacker_hole_cut001_1:
    # Extrude020 onto Sketch028 roll: moved
    add(hacker_hole_cut001.part.rotate(Axis((0, 0, 0), (1, 0, 0)), EXTRUDE020_ONTO_SKETCH028_ROLL_ANGLE))


with BuildPart() as hacker_hole_cut001_2:
    # Extrude020 onto Sketch028 placement: moved
    add(hacker_hole_cut001_1.part.moved(Location((0, -31, 0))).rotate(Axis((0, -31, 0), (0, 0, 1)), EXTRUDE020_ONTO_SKETCH028_PLACEMENT_ANGLE))


with BuildPart() as cut005:
    # Sketch027 as drawn → Extrude019 (new)
    with BuildSketch(Plane.XY):
        with Locations((6.625, 0)):
            Rectangle(SKETCH027_AS_DRAWN_W, SKETCH027_AS_DRAWN_H)
    extrude(amount=-EXTRUDE019_DEPTH)


with BuildPart() as cut005_1:
    # Extrude019 onto Sketch027 roll: moved
    add(cut005.part.rotate(Axis((0, 0, 0), (1, 0, 0)), EXTRUDE019_ONTO_SKETCH027_ROLL_ANGLE))


with BuildPart() as cut005_2:
    # Extrude019 onto Sketch027 placement: moved
    add(cut005_1.part.moved(Location((0, -26, 0))).rotate(Axis((0, -26, 0), (0, 0, 1)), EXTRUDE019_ONTO_SKETCH027_PLACEMENT_ANGLE))

    # Cut005: cut Hacker hole cut001
    add(hacker_hole_cut001_2.part, mode=Mode.SUBTRACT)


with BuildPart() as part_holder001:
    # Sketch019 as drawn → Extrude012 (new)
    with BuildSketch(Plane.XY):
        with Locations((-11, 0)):
            Rectangle(SKETCH019_AS_DRAWN_W, SKETCH019_AS_DRAWN_H)
    extrude(amount=-EXTRUDE012_DEPTH)


with BuildPart() as part_holder001_1:
    # Extrude012 onto Sketch019 roll: moved
    add(part_holder001.part.rotate(Axis((0, 0, 0), (1, 0, 0)), EXTRUDE012_ONTO_SKETCH019_ROLL_ANGLE))


with BuildPart() as part_holder001_2:
    # Extrude012 onto Sketch019 placement: moved
    add(part_holder001_1.part.moved(Location((0, -26, 0))))

    # Fusion006: union Hacker Port Pegs, Cut005
    add(hacker_port_pegs.part)
    add(cut005_2.part)

    # Fusion007: union Reset Standoff, Momentary Mount, Pwr Button Mount, Body And Charge Port
    add(reset_standoff_2.part)
    add(momentary_mount.part)
    add(pwr_button_mount.part)
    add(body_and_charge_port_3.part)

    # Cut017: cut Extrude034
    add(extrude034.part, mode=Mode.SUBTRACT)

    # Cut018: cut Extrude035
    add(extrude035.part, mode=Mode.SUBTRACT)


with BuildPart() as part_holder001_3:
    # Cut018 placement: moved
    add(part_holder001_2.part.moved(Location((-8, 0, 0))))


solid = part_holder001_3.part
